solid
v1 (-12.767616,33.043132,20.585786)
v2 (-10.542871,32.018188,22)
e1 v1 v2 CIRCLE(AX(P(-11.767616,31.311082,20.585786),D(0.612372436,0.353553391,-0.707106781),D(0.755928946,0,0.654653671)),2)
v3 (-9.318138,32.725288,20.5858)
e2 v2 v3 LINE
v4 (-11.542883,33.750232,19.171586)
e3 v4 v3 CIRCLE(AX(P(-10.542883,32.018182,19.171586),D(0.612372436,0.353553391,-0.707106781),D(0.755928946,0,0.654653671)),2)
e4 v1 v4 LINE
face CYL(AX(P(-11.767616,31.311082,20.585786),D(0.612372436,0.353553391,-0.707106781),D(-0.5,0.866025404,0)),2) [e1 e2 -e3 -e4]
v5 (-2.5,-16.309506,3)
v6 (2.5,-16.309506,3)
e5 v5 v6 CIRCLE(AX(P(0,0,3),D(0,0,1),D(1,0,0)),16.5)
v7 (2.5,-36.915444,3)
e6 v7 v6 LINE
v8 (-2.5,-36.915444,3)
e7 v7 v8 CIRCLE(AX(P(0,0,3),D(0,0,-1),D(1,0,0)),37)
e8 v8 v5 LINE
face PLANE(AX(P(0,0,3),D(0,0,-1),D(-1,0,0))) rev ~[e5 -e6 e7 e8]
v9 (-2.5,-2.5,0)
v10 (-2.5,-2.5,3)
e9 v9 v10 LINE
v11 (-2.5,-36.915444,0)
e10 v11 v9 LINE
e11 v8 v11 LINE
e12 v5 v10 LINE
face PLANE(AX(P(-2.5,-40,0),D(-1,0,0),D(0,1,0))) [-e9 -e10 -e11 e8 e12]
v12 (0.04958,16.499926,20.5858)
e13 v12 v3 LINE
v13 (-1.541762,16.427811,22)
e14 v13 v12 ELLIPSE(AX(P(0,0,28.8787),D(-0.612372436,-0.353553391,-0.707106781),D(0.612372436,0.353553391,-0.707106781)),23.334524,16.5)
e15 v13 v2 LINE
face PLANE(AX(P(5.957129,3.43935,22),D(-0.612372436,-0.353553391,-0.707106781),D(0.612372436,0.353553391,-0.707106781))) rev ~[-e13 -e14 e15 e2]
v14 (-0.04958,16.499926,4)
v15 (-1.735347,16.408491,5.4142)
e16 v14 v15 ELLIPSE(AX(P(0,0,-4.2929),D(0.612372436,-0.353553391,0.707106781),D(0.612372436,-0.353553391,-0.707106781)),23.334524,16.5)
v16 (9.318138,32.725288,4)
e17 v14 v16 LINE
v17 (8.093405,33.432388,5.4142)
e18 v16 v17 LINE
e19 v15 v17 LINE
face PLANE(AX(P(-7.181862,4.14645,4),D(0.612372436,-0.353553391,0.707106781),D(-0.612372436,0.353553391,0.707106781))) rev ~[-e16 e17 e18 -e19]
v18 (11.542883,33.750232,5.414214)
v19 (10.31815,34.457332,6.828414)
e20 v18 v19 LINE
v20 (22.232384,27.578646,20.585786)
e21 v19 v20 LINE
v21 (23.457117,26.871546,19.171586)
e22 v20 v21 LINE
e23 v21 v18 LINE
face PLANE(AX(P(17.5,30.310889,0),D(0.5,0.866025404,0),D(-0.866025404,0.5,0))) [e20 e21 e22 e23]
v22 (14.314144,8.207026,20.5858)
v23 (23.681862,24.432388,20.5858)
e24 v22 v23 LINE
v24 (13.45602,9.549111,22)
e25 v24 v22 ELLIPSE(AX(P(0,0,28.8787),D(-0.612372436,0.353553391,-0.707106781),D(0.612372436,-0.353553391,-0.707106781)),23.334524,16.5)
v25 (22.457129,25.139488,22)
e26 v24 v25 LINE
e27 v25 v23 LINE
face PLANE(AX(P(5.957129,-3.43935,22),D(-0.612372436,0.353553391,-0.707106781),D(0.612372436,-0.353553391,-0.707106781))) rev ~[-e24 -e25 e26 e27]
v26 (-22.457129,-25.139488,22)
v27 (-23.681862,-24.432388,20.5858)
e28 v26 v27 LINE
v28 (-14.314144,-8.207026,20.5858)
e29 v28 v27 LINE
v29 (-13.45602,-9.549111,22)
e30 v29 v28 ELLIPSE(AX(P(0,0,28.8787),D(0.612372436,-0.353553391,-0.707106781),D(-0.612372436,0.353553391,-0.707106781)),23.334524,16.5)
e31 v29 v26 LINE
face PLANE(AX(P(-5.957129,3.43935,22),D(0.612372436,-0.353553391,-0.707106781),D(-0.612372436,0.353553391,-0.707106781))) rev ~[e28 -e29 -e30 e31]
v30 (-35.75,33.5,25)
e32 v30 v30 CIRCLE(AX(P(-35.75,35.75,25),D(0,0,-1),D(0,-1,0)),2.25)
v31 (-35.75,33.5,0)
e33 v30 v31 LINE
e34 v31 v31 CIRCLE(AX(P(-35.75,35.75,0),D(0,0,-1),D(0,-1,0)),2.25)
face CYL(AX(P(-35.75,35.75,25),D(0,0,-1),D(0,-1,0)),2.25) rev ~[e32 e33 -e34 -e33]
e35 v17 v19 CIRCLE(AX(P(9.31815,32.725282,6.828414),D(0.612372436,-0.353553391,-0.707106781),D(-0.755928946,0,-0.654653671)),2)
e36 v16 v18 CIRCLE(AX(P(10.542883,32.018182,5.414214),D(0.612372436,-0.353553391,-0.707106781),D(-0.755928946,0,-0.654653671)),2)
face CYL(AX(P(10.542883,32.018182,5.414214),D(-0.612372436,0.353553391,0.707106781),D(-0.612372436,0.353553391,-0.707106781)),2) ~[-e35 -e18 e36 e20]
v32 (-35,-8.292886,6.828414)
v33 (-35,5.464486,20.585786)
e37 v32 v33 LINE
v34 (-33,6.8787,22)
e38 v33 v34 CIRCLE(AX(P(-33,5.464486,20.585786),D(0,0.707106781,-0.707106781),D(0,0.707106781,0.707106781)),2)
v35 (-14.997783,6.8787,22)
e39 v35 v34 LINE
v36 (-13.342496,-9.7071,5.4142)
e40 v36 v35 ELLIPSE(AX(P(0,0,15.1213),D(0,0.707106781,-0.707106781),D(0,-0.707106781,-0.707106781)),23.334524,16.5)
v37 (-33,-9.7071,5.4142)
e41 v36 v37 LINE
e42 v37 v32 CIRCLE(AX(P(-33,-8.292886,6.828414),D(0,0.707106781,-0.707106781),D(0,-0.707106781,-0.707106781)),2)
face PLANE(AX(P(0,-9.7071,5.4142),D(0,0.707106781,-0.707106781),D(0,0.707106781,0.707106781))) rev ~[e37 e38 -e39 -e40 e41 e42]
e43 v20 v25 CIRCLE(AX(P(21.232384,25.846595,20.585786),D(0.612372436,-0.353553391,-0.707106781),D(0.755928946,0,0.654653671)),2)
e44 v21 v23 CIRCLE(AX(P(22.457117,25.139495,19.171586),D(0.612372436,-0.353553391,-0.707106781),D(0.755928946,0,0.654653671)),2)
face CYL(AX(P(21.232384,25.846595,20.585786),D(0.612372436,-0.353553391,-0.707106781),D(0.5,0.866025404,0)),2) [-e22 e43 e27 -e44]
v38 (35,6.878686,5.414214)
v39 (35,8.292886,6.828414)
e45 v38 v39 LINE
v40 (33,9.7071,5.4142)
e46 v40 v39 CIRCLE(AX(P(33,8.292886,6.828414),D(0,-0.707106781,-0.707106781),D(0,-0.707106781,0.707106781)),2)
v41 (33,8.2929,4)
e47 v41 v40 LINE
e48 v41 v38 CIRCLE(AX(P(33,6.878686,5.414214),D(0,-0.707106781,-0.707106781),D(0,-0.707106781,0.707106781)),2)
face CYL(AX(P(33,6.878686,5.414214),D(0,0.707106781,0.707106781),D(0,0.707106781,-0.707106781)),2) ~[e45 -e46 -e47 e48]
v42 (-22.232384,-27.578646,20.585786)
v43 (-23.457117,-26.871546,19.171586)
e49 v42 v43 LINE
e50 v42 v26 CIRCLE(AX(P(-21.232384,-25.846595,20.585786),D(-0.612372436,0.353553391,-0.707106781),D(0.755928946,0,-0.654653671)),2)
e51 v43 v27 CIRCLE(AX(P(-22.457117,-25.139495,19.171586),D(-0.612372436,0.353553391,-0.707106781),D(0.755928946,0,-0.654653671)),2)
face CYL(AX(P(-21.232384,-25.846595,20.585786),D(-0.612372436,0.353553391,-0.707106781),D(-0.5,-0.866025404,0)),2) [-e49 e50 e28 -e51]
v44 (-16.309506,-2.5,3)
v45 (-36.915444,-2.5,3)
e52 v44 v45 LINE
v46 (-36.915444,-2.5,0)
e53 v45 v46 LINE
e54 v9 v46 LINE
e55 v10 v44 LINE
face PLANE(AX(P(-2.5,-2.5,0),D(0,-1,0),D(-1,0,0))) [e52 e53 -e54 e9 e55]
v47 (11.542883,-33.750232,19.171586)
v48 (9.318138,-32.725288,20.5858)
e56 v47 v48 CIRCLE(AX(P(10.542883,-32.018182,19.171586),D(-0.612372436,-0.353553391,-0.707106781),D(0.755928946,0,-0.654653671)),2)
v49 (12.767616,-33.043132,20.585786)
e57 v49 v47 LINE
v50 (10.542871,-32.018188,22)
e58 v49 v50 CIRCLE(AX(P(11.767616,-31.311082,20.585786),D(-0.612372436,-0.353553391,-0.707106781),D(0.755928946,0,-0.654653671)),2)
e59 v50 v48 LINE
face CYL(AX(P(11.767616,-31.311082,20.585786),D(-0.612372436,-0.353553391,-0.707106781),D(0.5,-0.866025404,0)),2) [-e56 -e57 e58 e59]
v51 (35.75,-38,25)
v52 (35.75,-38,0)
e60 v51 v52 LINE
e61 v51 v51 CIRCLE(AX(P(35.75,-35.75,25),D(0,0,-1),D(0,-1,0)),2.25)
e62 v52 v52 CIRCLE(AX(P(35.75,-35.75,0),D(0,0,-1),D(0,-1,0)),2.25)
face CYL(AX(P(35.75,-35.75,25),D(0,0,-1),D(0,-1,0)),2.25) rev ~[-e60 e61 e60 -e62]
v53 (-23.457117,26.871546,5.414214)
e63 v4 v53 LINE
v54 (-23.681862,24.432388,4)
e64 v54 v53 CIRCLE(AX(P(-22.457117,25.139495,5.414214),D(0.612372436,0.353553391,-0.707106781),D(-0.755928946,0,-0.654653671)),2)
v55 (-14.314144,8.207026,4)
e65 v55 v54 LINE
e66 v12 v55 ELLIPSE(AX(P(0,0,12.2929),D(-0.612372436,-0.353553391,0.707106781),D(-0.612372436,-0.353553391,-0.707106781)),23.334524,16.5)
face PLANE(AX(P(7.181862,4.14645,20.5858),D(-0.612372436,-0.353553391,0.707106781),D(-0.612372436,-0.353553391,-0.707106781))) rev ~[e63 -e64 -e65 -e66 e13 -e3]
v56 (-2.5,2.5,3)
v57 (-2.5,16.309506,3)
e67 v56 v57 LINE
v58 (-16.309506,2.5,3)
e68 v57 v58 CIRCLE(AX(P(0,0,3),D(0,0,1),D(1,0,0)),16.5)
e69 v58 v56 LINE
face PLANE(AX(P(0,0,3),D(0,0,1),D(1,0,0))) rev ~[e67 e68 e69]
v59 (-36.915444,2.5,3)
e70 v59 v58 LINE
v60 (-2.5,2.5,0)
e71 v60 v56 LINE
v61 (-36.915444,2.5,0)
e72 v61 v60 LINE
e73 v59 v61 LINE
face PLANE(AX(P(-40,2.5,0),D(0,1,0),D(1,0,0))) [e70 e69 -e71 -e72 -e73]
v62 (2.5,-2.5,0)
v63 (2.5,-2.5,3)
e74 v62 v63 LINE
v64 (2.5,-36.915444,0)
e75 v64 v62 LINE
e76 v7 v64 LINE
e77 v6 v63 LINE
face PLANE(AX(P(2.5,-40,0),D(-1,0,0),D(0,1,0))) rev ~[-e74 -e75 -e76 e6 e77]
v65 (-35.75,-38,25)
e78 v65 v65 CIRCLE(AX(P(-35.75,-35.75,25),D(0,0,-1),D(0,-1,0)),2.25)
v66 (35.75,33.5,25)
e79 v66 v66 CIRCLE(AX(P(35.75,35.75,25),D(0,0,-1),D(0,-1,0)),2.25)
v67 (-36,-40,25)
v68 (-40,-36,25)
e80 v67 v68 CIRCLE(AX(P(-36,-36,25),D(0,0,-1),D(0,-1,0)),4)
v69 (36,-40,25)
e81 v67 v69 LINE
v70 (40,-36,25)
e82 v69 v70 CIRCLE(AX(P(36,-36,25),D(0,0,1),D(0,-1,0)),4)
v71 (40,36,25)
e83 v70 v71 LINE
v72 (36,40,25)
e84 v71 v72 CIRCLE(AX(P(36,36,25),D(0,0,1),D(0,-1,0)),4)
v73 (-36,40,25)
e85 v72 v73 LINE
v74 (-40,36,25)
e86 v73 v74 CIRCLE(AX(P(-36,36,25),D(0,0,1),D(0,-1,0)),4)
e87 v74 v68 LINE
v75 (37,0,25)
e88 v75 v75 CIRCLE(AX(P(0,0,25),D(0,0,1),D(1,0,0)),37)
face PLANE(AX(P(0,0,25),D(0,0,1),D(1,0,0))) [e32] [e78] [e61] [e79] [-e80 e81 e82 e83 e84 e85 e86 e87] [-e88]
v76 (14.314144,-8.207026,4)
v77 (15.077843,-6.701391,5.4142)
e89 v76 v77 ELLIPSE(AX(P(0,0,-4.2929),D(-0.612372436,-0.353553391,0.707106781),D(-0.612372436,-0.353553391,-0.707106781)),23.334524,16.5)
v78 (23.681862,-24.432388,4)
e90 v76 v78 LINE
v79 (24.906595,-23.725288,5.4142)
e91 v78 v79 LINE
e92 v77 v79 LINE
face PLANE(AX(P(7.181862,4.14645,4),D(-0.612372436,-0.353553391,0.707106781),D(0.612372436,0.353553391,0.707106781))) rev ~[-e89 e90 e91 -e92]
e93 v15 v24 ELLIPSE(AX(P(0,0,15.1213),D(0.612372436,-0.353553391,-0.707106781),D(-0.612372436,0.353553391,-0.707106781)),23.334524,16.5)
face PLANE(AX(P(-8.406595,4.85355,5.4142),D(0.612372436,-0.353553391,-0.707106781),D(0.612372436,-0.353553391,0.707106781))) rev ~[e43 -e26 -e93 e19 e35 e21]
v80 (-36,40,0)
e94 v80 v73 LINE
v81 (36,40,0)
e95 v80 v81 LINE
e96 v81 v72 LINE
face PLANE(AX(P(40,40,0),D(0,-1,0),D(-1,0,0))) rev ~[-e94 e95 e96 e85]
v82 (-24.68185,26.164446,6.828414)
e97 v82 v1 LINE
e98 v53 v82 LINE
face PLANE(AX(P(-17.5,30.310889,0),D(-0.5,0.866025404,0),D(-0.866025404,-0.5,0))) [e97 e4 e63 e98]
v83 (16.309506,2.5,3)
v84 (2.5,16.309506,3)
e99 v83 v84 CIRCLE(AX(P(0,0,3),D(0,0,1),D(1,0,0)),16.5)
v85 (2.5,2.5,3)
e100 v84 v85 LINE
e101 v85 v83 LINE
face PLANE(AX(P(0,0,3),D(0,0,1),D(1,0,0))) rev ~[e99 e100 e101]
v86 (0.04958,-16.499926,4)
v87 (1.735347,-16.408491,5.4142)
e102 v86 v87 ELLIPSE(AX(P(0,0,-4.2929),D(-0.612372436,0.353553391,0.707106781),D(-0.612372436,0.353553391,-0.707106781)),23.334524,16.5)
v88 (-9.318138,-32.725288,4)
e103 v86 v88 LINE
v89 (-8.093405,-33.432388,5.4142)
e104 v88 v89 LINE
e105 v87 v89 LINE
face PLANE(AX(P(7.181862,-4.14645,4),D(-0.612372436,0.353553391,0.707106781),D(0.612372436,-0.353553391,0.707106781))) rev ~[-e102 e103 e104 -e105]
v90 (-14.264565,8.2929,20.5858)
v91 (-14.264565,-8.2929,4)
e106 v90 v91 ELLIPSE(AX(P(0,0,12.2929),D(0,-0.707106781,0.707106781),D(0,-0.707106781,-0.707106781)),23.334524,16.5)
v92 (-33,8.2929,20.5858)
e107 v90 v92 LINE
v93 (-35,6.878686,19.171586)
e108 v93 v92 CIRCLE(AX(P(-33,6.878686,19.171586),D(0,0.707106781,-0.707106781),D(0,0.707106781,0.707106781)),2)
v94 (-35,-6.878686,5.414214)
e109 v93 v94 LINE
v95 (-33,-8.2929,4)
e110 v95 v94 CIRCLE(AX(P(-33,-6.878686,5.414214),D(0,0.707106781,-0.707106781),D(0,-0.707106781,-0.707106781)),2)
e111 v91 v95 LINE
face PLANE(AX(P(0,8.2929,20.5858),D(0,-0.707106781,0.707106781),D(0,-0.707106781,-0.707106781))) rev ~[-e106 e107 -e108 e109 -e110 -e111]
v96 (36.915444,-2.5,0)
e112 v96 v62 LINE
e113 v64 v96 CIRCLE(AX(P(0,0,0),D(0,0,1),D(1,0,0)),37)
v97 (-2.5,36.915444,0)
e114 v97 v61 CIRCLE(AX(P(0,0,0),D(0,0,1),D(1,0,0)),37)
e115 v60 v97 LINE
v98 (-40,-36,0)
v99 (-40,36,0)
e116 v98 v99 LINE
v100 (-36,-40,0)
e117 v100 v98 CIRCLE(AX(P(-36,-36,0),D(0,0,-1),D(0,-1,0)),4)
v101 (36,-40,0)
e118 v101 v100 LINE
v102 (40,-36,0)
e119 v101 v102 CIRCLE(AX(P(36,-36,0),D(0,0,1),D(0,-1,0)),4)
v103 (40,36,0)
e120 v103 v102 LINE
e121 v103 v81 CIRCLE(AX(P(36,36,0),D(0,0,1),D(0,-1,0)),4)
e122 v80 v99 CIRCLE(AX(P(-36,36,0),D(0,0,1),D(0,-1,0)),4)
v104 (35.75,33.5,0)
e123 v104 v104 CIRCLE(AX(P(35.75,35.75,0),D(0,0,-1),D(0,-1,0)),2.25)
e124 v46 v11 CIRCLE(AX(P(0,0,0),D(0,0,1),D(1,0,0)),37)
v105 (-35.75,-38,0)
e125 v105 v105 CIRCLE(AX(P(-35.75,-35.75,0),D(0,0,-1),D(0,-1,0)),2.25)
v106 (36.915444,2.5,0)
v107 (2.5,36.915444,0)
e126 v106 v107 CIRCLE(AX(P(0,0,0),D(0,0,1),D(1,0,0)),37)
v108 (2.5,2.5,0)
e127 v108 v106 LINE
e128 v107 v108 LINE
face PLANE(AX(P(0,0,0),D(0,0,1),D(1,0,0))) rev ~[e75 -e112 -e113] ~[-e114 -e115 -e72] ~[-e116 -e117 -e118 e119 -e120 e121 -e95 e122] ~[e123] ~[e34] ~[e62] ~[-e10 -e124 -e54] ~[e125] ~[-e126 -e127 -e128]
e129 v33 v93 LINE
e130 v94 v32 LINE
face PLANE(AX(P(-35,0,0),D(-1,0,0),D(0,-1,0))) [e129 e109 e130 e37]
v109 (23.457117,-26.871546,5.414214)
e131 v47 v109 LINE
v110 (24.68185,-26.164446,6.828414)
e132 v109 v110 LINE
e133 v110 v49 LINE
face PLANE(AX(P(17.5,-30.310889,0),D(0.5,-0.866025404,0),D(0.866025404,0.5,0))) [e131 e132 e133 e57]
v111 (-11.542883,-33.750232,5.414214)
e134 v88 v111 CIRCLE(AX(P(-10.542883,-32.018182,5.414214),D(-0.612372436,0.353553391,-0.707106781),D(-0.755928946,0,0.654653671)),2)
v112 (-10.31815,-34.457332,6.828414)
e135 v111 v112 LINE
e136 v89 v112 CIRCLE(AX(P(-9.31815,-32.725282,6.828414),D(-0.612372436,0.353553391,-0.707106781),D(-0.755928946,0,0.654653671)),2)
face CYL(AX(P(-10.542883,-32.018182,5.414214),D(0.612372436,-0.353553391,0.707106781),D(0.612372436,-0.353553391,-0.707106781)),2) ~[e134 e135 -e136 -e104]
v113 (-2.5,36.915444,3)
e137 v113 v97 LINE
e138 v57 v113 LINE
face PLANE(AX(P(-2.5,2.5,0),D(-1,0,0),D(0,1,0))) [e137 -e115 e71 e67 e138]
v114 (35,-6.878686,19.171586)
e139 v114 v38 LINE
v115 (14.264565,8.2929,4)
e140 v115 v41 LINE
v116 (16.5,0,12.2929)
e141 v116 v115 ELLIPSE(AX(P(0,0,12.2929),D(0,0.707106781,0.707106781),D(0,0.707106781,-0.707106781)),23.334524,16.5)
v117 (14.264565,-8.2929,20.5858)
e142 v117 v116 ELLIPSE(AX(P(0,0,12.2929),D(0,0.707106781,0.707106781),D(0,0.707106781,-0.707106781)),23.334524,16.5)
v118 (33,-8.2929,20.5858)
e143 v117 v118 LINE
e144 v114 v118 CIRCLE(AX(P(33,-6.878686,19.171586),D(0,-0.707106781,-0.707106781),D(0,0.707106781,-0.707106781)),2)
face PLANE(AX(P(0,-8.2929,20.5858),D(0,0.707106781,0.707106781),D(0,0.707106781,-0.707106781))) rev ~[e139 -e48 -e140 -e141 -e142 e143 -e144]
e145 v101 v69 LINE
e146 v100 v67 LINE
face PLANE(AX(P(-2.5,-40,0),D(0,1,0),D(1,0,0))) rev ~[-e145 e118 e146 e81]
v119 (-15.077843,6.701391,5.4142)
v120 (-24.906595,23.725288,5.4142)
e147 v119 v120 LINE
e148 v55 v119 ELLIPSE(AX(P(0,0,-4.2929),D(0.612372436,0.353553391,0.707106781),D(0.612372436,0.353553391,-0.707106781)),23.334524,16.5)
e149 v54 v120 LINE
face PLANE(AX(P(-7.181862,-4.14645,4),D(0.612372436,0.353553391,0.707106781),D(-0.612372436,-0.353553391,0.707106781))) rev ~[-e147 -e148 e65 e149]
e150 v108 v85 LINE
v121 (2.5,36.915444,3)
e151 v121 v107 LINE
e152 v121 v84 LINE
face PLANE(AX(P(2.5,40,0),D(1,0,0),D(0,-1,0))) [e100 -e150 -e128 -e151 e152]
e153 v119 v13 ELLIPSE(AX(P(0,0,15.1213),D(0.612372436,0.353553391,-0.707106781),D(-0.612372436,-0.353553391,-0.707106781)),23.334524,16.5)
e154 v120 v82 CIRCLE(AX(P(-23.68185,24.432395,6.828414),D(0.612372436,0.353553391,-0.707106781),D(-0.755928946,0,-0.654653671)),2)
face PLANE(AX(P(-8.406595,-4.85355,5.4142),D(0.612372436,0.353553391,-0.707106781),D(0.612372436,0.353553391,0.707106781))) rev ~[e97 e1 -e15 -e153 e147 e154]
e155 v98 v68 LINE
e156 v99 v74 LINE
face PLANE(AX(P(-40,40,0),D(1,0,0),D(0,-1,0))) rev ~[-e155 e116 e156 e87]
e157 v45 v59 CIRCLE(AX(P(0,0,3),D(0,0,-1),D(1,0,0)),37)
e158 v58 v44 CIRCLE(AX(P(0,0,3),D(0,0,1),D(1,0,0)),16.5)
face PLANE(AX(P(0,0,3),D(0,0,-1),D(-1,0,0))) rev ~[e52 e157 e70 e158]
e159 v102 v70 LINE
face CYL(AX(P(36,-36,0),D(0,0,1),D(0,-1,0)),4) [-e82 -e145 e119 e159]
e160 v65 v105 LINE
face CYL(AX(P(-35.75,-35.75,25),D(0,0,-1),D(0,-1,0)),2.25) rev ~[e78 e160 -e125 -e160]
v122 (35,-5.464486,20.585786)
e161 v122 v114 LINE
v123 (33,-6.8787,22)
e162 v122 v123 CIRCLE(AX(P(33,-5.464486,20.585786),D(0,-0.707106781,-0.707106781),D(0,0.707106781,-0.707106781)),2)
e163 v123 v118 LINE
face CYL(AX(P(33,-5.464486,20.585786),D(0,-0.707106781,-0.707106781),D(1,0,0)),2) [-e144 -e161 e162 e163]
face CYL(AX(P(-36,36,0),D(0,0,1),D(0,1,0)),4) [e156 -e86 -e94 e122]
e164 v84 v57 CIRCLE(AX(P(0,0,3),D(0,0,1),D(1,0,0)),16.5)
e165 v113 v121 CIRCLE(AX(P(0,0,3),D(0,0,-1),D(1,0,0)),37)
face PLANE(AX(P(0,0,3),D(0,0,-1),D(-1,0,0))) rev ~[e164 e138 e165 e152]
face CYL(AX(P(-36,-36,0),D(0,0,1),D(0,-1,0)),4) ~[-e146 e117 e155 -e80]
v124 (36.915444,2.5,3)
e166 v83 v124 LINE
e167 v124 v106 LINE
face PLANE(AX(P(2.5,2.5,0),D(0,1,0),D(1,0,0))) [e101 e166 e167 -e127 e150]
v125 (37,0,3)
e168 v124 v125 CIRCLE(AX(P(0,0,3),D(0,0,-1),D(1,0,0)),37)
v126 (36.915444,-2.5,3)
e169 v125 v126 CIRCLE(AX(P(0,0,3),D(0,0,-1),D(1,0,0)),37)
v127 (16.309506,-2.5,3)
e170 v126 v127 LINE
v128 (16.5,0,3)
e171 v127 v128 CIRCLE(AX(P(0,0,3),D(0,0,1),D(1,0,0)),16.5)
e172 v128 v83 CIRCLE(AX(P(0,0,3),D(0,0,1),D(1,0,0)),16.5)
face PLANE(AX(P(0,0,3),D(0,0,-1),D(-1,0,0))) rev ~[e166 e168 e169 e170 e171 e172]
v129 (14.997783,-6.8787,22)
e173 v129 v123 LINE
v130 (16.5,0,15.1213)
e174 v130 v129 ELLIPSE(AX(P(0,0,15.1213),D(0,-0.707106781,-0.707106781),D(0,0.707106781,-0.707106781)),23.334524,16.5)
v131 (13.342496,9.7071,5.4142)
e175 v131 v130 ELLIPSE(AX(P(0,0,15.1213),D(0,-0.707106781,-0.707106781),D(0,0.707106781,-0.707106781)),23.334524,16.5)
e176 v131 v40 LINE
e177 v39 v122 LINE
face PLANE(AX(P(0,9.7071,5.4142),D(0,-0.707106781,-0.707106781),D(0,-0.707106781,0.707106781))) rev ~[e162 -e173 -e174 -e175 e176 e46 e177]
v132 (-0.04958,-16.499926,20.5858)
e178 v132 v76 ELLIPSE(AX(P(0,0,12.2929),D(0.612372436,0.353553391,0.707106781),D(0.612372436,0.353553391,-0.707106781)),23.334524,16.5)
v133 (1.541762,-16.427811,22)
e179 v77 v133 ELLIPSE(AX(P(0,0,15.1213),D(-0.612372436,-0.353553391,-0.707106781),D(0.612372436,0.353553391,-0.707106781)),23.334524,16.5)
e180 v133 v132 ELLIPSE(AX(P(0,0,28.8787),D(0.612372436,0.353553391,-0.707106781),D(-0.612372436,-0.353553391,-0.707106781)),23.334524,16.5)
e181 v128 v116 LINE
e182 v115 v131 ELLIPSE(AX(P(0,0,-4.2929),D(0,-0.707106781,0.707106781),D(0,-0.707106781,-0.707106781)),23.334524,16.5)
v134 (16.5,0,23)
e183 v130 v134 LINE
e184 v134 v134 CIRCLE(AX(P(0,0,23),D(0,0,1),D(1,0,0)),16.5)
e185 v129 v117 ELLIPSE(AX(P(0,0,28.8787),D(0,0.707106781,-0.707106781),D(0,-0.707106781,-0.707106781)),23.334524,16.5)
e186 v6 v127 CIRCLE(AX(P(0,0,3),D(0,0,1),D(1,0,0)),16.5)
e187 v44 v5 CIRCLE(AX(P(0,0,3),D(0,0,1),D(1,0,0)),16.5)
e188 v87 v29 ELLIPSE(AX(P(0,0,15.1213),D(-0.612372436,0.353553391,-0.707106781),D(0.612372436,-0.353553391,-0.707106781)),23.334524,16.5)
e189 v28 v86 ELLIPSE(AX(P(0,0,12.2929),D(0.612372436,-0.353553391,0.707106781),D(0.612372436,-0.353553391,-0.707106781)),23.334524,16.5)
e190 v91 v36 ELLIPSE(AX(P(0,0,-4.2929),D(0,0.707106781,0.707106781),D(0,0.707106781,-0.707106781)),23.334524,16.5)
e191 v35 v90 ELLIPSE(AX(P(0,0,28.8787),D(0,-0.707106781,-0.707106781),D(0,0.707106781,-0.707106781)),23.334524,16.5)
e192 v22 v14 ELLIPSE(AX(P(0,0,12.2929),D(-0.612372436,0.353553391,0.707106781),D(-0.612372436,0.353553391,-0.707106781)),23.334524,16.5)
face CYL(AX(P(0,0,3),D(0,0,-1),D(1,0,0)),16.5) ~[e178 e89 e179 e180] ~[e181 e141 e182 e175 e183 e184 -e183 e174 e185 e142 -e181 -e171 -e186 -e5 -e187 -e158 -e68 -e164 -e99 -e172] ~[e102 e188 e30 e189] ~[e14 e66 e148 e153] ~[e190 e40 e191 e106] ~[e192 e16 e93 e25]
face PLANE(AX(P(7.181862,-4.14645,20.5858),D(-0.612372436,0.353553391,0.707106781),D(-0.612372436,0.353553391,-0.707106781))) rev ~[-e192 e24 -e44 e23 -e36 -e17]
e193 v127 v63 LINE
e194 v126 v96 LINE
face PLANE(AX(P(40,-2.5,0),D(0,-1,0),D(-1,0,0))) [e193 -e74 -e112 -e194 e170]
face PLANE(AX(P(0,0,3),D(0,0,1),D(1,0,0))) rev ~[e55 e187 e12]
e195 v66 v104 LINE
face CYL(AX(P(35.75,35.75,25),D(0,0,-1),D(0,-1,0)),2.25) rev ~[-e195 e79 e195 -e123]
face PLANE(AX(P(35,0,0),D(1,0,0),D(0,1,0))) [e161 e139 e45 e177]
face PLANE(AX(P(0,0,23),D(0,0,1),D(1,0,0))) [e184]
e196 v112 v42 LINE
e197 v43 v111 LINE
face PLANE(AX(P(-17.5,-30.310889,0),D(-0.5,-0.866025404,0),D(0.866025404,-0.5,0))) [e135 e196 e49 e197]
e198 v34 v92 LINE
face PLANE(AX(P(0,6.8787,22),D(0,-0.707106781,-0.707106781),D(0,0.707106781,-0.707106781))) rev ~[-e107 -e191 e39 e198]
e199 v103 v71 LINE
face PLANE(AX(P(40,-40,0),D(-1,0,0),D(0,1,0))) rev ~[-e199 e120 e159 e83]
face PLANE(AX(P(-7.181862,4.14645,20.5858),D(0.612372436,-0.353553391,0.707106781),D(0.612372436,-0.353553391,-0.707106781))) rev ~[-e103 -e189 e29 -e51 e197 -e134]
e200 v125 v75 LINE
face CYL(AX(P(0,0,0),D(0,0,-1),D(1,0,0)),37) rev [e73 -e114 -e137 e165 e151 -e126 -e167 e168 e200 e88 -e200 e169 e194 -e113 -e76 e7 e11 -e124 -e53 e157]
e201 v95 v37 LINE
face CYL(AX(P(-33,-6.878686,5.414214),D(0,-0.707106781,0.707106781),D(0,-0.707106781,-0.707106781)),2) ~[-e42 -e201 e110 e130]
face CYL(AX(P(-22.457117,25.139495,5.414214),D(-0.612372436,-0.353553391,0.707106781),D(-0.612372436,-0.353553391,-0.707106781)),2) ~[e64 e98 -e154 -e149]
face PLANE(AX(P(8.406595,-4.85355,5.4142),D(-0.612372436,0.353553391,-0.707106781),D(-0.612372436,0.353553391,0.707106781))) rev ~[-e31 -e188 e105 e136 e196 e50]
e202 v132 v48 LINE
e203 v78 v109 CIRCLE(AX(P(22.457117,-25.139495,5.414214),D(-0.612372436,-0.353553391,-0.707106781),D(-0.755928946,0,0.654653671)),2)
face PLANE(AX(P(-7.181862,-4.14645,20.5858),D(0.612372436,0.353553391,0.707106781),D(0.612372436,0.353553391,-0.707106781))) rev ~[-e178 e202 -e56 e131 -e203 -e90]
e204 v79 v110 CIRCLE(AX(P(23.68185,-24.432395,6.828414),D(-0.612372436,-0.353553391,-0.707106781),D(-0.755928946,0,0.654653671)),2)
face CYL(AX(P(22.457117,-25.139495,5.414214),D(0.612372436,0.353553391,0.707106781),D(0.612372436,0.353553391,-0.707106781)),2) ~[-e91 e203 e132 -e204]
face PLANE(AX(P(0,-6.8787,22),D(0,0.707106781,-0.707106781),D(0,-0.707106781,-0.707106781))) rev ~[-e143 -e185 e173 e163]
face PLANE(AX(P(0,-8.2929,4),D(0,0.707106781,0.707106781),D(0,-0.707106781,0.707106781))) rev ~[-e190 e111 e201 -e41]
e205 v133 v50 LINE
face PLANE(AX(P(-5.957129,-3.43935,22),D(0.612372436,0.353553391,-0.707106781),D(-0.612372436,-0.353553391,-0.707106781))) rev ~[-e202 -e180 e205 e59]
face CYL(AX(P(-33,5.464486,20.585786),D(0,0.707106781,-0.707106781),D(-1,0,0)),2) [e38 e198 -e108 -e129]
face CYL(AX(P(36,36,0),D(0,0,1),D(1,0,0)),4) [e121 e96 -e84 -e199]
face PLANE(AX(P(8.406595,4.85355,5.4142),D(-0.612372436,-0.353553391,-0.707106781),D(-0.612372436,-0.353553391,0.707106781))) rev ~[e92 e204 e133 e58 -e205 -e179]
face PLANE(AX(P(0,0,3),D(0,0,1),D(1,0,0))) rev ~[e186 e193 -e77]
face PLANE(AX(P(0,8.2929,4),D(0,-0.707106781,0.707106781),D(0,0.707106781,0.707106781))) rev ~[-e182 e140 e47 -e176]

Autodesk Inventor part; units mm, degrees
ref_plane "YZ Plane" through (0, 0, 0) normal (1, 0, 0) x (0, 1, 0)
ref_plane "XZ Plane" through (0, 0, 0) normal (0, 1, 0) x (-1, 0, 0)
ref_plane "XY Plane" through (0, 0, 0) normal (0, 0, 1) x (1, 0, 0)
sketch "Sketch1" plane through (0, 0, 0) normal (0, 0, 1) x (1, 0, 0)
  line L0 (-40, -40) -> (40, -40)
  line L1 (40, -40) -> (40, 40)
  line L2 (40, 40) -> (-40, 40)
  line L3 (-40, 40) -> (-40, -40)
  line L4 (-40, -40) -> (40, 40) construction
  line L5 (40, -40) -> (-40, 40) construction
  circle A0 centre (0, 0) radius 37
  dimension "d0" = 80
  dimension "d1" = 80
  dimension "d2" = 74
extrude "Extrusion1" add sketch "Sketch1" along normal blind 25
sketch "Sketch2" plane through (0, 0, 25) normal (0, 0, 1) x (1, 0, 0)
  line L0 (-35.75, -35.75) -> (35.75, -35.75) construction
  line L1 (35.75, -35.75) -> (35.75, 35.75) construction
  line L2 (35.75, 35.75) -> (-35.75, 35.75) construction
  line L3 (-35.75, 35.75) -> (-35.75, -35.75) construction
  line L4 (-35.75, -35.75) -> (35.75, 35.75) construction
  line L5 (35.75, -35.75) -> (-35.75, 35.75) construction
  point P0 (0, 0)
  dimension "d5" = 71.5
  dimension "d6" = 71.5
hole "Hole1" at (-35.75, 35.75, 25) at (-35.75, -35.75, 25) at (35.75, -35.75, 25) at (35.75, 35.75, 25) direction (0, 0, -1) diameter 4.5 end through all clearance for "Countersunk Flat Head Screw DIN EN ISO 2009" size "M4" standard "DIN"
sketch "Sketch3" plane through (0, 0, 0) normal (0, 0, -1) x (-1, 0, 0)
  line L0 (40, -40) -> (-40, -40) projected
  line L1 (-2.5, -40) -> (2.5, -40)
  line L2 (2.5, -40) -> (2.5, -2.5)
  line L3 (2.5, -2.5) -> (40, -2.5)
  line L4 (40, 40) -> (40, -40) projected
  line L5 (40, -2.5) -> (40, 2.5)
  line L6 (40, 2.5) -> (2.5, 2.5)
  line L7 (2.5, 2.5) -> (2.5, 40)
  line L8 (2.5, 40) -> (-2.5, 40)
  line L9 (-2.5, 40) -> (-2.5, 2.5)
  line L10 (-2.5, 2.5) -> (-40, 2.5)
  line L11 (-40, 2.5) -> (-40, -2.5)
  line L12 (-40, -40) -> (-40, 40) projected
  line L13 (-40, -2.5) -> (-2.5, -2.5)
  line L14 (-2.5, -40) -> (-2.5, -2.5)
  point P0 (0, 0)
  point P1 (-40, 0)
  point P2 (40, 0)
  point P3 (0, -40)
  point P4 (0, 40)
  dimension "d14" = 5
  dimension "d15" = 5
extrude "Extrusion2" add sketch "Sketch3" against normal blind 3 contours L0 L14 L13 L11 L10 L9 L8 L7 L6 L4 L3 L2
sketch "Sketch4" plane through (0, 0, 3) normal (0, 0, 1) x (1, 0, 0)
  circle A0 centre (0, 0) radius 16.5
  dimension "d18" = 33
extrude "Extrusion3" add sketch "Sketch4" along normal blind 20
sketch "Sketch5" plane through (0, 0, 0) normal (1, 0, 0) x (0, 1, 0)
  line L0 (9.7071, 5.4142) -> (-6.8787, 22)
  line L1 (-6.8787, 22) -> (-8.2929, 20.5858)
  line L2 (-8.2929, 20.5858) -> (8.2929, 4)
  line L3 (8.2929, 4) -> (9.7071, 5.4142)
  line L4 (16.3095, 3) -> (36.9154, 3) projected
  line L5 (16.5, 23) -> (-16.5, 23) projected
  point P0 (0, 0)
  point P1 (0, 12.2929)
  dimension "d21" = 1
  dimension "d22" = 1
  dimension "d23" = 2
  dimension "d24" = 45
extrude "Extrusion4" add sketch "Sketch5" along normal blind 35
fillet "Fillet1" radius 2 2 edges at (35, -7.5858, 21.2929) (35, 9, 4.7071)
pattern_circular "Circular Pattern2" count 6 over 360 about axis through (0, 0, -10) along (0, 0, 1) of "Extrusion4", "Fillet1"
fillet "Fillet2" radius 4 4 edges at (40, -40, 12.5) (-40, -40, 12.5) (-40, 40, 12.5) (40, 40, 12.5)
properties part number "Lüfter"
